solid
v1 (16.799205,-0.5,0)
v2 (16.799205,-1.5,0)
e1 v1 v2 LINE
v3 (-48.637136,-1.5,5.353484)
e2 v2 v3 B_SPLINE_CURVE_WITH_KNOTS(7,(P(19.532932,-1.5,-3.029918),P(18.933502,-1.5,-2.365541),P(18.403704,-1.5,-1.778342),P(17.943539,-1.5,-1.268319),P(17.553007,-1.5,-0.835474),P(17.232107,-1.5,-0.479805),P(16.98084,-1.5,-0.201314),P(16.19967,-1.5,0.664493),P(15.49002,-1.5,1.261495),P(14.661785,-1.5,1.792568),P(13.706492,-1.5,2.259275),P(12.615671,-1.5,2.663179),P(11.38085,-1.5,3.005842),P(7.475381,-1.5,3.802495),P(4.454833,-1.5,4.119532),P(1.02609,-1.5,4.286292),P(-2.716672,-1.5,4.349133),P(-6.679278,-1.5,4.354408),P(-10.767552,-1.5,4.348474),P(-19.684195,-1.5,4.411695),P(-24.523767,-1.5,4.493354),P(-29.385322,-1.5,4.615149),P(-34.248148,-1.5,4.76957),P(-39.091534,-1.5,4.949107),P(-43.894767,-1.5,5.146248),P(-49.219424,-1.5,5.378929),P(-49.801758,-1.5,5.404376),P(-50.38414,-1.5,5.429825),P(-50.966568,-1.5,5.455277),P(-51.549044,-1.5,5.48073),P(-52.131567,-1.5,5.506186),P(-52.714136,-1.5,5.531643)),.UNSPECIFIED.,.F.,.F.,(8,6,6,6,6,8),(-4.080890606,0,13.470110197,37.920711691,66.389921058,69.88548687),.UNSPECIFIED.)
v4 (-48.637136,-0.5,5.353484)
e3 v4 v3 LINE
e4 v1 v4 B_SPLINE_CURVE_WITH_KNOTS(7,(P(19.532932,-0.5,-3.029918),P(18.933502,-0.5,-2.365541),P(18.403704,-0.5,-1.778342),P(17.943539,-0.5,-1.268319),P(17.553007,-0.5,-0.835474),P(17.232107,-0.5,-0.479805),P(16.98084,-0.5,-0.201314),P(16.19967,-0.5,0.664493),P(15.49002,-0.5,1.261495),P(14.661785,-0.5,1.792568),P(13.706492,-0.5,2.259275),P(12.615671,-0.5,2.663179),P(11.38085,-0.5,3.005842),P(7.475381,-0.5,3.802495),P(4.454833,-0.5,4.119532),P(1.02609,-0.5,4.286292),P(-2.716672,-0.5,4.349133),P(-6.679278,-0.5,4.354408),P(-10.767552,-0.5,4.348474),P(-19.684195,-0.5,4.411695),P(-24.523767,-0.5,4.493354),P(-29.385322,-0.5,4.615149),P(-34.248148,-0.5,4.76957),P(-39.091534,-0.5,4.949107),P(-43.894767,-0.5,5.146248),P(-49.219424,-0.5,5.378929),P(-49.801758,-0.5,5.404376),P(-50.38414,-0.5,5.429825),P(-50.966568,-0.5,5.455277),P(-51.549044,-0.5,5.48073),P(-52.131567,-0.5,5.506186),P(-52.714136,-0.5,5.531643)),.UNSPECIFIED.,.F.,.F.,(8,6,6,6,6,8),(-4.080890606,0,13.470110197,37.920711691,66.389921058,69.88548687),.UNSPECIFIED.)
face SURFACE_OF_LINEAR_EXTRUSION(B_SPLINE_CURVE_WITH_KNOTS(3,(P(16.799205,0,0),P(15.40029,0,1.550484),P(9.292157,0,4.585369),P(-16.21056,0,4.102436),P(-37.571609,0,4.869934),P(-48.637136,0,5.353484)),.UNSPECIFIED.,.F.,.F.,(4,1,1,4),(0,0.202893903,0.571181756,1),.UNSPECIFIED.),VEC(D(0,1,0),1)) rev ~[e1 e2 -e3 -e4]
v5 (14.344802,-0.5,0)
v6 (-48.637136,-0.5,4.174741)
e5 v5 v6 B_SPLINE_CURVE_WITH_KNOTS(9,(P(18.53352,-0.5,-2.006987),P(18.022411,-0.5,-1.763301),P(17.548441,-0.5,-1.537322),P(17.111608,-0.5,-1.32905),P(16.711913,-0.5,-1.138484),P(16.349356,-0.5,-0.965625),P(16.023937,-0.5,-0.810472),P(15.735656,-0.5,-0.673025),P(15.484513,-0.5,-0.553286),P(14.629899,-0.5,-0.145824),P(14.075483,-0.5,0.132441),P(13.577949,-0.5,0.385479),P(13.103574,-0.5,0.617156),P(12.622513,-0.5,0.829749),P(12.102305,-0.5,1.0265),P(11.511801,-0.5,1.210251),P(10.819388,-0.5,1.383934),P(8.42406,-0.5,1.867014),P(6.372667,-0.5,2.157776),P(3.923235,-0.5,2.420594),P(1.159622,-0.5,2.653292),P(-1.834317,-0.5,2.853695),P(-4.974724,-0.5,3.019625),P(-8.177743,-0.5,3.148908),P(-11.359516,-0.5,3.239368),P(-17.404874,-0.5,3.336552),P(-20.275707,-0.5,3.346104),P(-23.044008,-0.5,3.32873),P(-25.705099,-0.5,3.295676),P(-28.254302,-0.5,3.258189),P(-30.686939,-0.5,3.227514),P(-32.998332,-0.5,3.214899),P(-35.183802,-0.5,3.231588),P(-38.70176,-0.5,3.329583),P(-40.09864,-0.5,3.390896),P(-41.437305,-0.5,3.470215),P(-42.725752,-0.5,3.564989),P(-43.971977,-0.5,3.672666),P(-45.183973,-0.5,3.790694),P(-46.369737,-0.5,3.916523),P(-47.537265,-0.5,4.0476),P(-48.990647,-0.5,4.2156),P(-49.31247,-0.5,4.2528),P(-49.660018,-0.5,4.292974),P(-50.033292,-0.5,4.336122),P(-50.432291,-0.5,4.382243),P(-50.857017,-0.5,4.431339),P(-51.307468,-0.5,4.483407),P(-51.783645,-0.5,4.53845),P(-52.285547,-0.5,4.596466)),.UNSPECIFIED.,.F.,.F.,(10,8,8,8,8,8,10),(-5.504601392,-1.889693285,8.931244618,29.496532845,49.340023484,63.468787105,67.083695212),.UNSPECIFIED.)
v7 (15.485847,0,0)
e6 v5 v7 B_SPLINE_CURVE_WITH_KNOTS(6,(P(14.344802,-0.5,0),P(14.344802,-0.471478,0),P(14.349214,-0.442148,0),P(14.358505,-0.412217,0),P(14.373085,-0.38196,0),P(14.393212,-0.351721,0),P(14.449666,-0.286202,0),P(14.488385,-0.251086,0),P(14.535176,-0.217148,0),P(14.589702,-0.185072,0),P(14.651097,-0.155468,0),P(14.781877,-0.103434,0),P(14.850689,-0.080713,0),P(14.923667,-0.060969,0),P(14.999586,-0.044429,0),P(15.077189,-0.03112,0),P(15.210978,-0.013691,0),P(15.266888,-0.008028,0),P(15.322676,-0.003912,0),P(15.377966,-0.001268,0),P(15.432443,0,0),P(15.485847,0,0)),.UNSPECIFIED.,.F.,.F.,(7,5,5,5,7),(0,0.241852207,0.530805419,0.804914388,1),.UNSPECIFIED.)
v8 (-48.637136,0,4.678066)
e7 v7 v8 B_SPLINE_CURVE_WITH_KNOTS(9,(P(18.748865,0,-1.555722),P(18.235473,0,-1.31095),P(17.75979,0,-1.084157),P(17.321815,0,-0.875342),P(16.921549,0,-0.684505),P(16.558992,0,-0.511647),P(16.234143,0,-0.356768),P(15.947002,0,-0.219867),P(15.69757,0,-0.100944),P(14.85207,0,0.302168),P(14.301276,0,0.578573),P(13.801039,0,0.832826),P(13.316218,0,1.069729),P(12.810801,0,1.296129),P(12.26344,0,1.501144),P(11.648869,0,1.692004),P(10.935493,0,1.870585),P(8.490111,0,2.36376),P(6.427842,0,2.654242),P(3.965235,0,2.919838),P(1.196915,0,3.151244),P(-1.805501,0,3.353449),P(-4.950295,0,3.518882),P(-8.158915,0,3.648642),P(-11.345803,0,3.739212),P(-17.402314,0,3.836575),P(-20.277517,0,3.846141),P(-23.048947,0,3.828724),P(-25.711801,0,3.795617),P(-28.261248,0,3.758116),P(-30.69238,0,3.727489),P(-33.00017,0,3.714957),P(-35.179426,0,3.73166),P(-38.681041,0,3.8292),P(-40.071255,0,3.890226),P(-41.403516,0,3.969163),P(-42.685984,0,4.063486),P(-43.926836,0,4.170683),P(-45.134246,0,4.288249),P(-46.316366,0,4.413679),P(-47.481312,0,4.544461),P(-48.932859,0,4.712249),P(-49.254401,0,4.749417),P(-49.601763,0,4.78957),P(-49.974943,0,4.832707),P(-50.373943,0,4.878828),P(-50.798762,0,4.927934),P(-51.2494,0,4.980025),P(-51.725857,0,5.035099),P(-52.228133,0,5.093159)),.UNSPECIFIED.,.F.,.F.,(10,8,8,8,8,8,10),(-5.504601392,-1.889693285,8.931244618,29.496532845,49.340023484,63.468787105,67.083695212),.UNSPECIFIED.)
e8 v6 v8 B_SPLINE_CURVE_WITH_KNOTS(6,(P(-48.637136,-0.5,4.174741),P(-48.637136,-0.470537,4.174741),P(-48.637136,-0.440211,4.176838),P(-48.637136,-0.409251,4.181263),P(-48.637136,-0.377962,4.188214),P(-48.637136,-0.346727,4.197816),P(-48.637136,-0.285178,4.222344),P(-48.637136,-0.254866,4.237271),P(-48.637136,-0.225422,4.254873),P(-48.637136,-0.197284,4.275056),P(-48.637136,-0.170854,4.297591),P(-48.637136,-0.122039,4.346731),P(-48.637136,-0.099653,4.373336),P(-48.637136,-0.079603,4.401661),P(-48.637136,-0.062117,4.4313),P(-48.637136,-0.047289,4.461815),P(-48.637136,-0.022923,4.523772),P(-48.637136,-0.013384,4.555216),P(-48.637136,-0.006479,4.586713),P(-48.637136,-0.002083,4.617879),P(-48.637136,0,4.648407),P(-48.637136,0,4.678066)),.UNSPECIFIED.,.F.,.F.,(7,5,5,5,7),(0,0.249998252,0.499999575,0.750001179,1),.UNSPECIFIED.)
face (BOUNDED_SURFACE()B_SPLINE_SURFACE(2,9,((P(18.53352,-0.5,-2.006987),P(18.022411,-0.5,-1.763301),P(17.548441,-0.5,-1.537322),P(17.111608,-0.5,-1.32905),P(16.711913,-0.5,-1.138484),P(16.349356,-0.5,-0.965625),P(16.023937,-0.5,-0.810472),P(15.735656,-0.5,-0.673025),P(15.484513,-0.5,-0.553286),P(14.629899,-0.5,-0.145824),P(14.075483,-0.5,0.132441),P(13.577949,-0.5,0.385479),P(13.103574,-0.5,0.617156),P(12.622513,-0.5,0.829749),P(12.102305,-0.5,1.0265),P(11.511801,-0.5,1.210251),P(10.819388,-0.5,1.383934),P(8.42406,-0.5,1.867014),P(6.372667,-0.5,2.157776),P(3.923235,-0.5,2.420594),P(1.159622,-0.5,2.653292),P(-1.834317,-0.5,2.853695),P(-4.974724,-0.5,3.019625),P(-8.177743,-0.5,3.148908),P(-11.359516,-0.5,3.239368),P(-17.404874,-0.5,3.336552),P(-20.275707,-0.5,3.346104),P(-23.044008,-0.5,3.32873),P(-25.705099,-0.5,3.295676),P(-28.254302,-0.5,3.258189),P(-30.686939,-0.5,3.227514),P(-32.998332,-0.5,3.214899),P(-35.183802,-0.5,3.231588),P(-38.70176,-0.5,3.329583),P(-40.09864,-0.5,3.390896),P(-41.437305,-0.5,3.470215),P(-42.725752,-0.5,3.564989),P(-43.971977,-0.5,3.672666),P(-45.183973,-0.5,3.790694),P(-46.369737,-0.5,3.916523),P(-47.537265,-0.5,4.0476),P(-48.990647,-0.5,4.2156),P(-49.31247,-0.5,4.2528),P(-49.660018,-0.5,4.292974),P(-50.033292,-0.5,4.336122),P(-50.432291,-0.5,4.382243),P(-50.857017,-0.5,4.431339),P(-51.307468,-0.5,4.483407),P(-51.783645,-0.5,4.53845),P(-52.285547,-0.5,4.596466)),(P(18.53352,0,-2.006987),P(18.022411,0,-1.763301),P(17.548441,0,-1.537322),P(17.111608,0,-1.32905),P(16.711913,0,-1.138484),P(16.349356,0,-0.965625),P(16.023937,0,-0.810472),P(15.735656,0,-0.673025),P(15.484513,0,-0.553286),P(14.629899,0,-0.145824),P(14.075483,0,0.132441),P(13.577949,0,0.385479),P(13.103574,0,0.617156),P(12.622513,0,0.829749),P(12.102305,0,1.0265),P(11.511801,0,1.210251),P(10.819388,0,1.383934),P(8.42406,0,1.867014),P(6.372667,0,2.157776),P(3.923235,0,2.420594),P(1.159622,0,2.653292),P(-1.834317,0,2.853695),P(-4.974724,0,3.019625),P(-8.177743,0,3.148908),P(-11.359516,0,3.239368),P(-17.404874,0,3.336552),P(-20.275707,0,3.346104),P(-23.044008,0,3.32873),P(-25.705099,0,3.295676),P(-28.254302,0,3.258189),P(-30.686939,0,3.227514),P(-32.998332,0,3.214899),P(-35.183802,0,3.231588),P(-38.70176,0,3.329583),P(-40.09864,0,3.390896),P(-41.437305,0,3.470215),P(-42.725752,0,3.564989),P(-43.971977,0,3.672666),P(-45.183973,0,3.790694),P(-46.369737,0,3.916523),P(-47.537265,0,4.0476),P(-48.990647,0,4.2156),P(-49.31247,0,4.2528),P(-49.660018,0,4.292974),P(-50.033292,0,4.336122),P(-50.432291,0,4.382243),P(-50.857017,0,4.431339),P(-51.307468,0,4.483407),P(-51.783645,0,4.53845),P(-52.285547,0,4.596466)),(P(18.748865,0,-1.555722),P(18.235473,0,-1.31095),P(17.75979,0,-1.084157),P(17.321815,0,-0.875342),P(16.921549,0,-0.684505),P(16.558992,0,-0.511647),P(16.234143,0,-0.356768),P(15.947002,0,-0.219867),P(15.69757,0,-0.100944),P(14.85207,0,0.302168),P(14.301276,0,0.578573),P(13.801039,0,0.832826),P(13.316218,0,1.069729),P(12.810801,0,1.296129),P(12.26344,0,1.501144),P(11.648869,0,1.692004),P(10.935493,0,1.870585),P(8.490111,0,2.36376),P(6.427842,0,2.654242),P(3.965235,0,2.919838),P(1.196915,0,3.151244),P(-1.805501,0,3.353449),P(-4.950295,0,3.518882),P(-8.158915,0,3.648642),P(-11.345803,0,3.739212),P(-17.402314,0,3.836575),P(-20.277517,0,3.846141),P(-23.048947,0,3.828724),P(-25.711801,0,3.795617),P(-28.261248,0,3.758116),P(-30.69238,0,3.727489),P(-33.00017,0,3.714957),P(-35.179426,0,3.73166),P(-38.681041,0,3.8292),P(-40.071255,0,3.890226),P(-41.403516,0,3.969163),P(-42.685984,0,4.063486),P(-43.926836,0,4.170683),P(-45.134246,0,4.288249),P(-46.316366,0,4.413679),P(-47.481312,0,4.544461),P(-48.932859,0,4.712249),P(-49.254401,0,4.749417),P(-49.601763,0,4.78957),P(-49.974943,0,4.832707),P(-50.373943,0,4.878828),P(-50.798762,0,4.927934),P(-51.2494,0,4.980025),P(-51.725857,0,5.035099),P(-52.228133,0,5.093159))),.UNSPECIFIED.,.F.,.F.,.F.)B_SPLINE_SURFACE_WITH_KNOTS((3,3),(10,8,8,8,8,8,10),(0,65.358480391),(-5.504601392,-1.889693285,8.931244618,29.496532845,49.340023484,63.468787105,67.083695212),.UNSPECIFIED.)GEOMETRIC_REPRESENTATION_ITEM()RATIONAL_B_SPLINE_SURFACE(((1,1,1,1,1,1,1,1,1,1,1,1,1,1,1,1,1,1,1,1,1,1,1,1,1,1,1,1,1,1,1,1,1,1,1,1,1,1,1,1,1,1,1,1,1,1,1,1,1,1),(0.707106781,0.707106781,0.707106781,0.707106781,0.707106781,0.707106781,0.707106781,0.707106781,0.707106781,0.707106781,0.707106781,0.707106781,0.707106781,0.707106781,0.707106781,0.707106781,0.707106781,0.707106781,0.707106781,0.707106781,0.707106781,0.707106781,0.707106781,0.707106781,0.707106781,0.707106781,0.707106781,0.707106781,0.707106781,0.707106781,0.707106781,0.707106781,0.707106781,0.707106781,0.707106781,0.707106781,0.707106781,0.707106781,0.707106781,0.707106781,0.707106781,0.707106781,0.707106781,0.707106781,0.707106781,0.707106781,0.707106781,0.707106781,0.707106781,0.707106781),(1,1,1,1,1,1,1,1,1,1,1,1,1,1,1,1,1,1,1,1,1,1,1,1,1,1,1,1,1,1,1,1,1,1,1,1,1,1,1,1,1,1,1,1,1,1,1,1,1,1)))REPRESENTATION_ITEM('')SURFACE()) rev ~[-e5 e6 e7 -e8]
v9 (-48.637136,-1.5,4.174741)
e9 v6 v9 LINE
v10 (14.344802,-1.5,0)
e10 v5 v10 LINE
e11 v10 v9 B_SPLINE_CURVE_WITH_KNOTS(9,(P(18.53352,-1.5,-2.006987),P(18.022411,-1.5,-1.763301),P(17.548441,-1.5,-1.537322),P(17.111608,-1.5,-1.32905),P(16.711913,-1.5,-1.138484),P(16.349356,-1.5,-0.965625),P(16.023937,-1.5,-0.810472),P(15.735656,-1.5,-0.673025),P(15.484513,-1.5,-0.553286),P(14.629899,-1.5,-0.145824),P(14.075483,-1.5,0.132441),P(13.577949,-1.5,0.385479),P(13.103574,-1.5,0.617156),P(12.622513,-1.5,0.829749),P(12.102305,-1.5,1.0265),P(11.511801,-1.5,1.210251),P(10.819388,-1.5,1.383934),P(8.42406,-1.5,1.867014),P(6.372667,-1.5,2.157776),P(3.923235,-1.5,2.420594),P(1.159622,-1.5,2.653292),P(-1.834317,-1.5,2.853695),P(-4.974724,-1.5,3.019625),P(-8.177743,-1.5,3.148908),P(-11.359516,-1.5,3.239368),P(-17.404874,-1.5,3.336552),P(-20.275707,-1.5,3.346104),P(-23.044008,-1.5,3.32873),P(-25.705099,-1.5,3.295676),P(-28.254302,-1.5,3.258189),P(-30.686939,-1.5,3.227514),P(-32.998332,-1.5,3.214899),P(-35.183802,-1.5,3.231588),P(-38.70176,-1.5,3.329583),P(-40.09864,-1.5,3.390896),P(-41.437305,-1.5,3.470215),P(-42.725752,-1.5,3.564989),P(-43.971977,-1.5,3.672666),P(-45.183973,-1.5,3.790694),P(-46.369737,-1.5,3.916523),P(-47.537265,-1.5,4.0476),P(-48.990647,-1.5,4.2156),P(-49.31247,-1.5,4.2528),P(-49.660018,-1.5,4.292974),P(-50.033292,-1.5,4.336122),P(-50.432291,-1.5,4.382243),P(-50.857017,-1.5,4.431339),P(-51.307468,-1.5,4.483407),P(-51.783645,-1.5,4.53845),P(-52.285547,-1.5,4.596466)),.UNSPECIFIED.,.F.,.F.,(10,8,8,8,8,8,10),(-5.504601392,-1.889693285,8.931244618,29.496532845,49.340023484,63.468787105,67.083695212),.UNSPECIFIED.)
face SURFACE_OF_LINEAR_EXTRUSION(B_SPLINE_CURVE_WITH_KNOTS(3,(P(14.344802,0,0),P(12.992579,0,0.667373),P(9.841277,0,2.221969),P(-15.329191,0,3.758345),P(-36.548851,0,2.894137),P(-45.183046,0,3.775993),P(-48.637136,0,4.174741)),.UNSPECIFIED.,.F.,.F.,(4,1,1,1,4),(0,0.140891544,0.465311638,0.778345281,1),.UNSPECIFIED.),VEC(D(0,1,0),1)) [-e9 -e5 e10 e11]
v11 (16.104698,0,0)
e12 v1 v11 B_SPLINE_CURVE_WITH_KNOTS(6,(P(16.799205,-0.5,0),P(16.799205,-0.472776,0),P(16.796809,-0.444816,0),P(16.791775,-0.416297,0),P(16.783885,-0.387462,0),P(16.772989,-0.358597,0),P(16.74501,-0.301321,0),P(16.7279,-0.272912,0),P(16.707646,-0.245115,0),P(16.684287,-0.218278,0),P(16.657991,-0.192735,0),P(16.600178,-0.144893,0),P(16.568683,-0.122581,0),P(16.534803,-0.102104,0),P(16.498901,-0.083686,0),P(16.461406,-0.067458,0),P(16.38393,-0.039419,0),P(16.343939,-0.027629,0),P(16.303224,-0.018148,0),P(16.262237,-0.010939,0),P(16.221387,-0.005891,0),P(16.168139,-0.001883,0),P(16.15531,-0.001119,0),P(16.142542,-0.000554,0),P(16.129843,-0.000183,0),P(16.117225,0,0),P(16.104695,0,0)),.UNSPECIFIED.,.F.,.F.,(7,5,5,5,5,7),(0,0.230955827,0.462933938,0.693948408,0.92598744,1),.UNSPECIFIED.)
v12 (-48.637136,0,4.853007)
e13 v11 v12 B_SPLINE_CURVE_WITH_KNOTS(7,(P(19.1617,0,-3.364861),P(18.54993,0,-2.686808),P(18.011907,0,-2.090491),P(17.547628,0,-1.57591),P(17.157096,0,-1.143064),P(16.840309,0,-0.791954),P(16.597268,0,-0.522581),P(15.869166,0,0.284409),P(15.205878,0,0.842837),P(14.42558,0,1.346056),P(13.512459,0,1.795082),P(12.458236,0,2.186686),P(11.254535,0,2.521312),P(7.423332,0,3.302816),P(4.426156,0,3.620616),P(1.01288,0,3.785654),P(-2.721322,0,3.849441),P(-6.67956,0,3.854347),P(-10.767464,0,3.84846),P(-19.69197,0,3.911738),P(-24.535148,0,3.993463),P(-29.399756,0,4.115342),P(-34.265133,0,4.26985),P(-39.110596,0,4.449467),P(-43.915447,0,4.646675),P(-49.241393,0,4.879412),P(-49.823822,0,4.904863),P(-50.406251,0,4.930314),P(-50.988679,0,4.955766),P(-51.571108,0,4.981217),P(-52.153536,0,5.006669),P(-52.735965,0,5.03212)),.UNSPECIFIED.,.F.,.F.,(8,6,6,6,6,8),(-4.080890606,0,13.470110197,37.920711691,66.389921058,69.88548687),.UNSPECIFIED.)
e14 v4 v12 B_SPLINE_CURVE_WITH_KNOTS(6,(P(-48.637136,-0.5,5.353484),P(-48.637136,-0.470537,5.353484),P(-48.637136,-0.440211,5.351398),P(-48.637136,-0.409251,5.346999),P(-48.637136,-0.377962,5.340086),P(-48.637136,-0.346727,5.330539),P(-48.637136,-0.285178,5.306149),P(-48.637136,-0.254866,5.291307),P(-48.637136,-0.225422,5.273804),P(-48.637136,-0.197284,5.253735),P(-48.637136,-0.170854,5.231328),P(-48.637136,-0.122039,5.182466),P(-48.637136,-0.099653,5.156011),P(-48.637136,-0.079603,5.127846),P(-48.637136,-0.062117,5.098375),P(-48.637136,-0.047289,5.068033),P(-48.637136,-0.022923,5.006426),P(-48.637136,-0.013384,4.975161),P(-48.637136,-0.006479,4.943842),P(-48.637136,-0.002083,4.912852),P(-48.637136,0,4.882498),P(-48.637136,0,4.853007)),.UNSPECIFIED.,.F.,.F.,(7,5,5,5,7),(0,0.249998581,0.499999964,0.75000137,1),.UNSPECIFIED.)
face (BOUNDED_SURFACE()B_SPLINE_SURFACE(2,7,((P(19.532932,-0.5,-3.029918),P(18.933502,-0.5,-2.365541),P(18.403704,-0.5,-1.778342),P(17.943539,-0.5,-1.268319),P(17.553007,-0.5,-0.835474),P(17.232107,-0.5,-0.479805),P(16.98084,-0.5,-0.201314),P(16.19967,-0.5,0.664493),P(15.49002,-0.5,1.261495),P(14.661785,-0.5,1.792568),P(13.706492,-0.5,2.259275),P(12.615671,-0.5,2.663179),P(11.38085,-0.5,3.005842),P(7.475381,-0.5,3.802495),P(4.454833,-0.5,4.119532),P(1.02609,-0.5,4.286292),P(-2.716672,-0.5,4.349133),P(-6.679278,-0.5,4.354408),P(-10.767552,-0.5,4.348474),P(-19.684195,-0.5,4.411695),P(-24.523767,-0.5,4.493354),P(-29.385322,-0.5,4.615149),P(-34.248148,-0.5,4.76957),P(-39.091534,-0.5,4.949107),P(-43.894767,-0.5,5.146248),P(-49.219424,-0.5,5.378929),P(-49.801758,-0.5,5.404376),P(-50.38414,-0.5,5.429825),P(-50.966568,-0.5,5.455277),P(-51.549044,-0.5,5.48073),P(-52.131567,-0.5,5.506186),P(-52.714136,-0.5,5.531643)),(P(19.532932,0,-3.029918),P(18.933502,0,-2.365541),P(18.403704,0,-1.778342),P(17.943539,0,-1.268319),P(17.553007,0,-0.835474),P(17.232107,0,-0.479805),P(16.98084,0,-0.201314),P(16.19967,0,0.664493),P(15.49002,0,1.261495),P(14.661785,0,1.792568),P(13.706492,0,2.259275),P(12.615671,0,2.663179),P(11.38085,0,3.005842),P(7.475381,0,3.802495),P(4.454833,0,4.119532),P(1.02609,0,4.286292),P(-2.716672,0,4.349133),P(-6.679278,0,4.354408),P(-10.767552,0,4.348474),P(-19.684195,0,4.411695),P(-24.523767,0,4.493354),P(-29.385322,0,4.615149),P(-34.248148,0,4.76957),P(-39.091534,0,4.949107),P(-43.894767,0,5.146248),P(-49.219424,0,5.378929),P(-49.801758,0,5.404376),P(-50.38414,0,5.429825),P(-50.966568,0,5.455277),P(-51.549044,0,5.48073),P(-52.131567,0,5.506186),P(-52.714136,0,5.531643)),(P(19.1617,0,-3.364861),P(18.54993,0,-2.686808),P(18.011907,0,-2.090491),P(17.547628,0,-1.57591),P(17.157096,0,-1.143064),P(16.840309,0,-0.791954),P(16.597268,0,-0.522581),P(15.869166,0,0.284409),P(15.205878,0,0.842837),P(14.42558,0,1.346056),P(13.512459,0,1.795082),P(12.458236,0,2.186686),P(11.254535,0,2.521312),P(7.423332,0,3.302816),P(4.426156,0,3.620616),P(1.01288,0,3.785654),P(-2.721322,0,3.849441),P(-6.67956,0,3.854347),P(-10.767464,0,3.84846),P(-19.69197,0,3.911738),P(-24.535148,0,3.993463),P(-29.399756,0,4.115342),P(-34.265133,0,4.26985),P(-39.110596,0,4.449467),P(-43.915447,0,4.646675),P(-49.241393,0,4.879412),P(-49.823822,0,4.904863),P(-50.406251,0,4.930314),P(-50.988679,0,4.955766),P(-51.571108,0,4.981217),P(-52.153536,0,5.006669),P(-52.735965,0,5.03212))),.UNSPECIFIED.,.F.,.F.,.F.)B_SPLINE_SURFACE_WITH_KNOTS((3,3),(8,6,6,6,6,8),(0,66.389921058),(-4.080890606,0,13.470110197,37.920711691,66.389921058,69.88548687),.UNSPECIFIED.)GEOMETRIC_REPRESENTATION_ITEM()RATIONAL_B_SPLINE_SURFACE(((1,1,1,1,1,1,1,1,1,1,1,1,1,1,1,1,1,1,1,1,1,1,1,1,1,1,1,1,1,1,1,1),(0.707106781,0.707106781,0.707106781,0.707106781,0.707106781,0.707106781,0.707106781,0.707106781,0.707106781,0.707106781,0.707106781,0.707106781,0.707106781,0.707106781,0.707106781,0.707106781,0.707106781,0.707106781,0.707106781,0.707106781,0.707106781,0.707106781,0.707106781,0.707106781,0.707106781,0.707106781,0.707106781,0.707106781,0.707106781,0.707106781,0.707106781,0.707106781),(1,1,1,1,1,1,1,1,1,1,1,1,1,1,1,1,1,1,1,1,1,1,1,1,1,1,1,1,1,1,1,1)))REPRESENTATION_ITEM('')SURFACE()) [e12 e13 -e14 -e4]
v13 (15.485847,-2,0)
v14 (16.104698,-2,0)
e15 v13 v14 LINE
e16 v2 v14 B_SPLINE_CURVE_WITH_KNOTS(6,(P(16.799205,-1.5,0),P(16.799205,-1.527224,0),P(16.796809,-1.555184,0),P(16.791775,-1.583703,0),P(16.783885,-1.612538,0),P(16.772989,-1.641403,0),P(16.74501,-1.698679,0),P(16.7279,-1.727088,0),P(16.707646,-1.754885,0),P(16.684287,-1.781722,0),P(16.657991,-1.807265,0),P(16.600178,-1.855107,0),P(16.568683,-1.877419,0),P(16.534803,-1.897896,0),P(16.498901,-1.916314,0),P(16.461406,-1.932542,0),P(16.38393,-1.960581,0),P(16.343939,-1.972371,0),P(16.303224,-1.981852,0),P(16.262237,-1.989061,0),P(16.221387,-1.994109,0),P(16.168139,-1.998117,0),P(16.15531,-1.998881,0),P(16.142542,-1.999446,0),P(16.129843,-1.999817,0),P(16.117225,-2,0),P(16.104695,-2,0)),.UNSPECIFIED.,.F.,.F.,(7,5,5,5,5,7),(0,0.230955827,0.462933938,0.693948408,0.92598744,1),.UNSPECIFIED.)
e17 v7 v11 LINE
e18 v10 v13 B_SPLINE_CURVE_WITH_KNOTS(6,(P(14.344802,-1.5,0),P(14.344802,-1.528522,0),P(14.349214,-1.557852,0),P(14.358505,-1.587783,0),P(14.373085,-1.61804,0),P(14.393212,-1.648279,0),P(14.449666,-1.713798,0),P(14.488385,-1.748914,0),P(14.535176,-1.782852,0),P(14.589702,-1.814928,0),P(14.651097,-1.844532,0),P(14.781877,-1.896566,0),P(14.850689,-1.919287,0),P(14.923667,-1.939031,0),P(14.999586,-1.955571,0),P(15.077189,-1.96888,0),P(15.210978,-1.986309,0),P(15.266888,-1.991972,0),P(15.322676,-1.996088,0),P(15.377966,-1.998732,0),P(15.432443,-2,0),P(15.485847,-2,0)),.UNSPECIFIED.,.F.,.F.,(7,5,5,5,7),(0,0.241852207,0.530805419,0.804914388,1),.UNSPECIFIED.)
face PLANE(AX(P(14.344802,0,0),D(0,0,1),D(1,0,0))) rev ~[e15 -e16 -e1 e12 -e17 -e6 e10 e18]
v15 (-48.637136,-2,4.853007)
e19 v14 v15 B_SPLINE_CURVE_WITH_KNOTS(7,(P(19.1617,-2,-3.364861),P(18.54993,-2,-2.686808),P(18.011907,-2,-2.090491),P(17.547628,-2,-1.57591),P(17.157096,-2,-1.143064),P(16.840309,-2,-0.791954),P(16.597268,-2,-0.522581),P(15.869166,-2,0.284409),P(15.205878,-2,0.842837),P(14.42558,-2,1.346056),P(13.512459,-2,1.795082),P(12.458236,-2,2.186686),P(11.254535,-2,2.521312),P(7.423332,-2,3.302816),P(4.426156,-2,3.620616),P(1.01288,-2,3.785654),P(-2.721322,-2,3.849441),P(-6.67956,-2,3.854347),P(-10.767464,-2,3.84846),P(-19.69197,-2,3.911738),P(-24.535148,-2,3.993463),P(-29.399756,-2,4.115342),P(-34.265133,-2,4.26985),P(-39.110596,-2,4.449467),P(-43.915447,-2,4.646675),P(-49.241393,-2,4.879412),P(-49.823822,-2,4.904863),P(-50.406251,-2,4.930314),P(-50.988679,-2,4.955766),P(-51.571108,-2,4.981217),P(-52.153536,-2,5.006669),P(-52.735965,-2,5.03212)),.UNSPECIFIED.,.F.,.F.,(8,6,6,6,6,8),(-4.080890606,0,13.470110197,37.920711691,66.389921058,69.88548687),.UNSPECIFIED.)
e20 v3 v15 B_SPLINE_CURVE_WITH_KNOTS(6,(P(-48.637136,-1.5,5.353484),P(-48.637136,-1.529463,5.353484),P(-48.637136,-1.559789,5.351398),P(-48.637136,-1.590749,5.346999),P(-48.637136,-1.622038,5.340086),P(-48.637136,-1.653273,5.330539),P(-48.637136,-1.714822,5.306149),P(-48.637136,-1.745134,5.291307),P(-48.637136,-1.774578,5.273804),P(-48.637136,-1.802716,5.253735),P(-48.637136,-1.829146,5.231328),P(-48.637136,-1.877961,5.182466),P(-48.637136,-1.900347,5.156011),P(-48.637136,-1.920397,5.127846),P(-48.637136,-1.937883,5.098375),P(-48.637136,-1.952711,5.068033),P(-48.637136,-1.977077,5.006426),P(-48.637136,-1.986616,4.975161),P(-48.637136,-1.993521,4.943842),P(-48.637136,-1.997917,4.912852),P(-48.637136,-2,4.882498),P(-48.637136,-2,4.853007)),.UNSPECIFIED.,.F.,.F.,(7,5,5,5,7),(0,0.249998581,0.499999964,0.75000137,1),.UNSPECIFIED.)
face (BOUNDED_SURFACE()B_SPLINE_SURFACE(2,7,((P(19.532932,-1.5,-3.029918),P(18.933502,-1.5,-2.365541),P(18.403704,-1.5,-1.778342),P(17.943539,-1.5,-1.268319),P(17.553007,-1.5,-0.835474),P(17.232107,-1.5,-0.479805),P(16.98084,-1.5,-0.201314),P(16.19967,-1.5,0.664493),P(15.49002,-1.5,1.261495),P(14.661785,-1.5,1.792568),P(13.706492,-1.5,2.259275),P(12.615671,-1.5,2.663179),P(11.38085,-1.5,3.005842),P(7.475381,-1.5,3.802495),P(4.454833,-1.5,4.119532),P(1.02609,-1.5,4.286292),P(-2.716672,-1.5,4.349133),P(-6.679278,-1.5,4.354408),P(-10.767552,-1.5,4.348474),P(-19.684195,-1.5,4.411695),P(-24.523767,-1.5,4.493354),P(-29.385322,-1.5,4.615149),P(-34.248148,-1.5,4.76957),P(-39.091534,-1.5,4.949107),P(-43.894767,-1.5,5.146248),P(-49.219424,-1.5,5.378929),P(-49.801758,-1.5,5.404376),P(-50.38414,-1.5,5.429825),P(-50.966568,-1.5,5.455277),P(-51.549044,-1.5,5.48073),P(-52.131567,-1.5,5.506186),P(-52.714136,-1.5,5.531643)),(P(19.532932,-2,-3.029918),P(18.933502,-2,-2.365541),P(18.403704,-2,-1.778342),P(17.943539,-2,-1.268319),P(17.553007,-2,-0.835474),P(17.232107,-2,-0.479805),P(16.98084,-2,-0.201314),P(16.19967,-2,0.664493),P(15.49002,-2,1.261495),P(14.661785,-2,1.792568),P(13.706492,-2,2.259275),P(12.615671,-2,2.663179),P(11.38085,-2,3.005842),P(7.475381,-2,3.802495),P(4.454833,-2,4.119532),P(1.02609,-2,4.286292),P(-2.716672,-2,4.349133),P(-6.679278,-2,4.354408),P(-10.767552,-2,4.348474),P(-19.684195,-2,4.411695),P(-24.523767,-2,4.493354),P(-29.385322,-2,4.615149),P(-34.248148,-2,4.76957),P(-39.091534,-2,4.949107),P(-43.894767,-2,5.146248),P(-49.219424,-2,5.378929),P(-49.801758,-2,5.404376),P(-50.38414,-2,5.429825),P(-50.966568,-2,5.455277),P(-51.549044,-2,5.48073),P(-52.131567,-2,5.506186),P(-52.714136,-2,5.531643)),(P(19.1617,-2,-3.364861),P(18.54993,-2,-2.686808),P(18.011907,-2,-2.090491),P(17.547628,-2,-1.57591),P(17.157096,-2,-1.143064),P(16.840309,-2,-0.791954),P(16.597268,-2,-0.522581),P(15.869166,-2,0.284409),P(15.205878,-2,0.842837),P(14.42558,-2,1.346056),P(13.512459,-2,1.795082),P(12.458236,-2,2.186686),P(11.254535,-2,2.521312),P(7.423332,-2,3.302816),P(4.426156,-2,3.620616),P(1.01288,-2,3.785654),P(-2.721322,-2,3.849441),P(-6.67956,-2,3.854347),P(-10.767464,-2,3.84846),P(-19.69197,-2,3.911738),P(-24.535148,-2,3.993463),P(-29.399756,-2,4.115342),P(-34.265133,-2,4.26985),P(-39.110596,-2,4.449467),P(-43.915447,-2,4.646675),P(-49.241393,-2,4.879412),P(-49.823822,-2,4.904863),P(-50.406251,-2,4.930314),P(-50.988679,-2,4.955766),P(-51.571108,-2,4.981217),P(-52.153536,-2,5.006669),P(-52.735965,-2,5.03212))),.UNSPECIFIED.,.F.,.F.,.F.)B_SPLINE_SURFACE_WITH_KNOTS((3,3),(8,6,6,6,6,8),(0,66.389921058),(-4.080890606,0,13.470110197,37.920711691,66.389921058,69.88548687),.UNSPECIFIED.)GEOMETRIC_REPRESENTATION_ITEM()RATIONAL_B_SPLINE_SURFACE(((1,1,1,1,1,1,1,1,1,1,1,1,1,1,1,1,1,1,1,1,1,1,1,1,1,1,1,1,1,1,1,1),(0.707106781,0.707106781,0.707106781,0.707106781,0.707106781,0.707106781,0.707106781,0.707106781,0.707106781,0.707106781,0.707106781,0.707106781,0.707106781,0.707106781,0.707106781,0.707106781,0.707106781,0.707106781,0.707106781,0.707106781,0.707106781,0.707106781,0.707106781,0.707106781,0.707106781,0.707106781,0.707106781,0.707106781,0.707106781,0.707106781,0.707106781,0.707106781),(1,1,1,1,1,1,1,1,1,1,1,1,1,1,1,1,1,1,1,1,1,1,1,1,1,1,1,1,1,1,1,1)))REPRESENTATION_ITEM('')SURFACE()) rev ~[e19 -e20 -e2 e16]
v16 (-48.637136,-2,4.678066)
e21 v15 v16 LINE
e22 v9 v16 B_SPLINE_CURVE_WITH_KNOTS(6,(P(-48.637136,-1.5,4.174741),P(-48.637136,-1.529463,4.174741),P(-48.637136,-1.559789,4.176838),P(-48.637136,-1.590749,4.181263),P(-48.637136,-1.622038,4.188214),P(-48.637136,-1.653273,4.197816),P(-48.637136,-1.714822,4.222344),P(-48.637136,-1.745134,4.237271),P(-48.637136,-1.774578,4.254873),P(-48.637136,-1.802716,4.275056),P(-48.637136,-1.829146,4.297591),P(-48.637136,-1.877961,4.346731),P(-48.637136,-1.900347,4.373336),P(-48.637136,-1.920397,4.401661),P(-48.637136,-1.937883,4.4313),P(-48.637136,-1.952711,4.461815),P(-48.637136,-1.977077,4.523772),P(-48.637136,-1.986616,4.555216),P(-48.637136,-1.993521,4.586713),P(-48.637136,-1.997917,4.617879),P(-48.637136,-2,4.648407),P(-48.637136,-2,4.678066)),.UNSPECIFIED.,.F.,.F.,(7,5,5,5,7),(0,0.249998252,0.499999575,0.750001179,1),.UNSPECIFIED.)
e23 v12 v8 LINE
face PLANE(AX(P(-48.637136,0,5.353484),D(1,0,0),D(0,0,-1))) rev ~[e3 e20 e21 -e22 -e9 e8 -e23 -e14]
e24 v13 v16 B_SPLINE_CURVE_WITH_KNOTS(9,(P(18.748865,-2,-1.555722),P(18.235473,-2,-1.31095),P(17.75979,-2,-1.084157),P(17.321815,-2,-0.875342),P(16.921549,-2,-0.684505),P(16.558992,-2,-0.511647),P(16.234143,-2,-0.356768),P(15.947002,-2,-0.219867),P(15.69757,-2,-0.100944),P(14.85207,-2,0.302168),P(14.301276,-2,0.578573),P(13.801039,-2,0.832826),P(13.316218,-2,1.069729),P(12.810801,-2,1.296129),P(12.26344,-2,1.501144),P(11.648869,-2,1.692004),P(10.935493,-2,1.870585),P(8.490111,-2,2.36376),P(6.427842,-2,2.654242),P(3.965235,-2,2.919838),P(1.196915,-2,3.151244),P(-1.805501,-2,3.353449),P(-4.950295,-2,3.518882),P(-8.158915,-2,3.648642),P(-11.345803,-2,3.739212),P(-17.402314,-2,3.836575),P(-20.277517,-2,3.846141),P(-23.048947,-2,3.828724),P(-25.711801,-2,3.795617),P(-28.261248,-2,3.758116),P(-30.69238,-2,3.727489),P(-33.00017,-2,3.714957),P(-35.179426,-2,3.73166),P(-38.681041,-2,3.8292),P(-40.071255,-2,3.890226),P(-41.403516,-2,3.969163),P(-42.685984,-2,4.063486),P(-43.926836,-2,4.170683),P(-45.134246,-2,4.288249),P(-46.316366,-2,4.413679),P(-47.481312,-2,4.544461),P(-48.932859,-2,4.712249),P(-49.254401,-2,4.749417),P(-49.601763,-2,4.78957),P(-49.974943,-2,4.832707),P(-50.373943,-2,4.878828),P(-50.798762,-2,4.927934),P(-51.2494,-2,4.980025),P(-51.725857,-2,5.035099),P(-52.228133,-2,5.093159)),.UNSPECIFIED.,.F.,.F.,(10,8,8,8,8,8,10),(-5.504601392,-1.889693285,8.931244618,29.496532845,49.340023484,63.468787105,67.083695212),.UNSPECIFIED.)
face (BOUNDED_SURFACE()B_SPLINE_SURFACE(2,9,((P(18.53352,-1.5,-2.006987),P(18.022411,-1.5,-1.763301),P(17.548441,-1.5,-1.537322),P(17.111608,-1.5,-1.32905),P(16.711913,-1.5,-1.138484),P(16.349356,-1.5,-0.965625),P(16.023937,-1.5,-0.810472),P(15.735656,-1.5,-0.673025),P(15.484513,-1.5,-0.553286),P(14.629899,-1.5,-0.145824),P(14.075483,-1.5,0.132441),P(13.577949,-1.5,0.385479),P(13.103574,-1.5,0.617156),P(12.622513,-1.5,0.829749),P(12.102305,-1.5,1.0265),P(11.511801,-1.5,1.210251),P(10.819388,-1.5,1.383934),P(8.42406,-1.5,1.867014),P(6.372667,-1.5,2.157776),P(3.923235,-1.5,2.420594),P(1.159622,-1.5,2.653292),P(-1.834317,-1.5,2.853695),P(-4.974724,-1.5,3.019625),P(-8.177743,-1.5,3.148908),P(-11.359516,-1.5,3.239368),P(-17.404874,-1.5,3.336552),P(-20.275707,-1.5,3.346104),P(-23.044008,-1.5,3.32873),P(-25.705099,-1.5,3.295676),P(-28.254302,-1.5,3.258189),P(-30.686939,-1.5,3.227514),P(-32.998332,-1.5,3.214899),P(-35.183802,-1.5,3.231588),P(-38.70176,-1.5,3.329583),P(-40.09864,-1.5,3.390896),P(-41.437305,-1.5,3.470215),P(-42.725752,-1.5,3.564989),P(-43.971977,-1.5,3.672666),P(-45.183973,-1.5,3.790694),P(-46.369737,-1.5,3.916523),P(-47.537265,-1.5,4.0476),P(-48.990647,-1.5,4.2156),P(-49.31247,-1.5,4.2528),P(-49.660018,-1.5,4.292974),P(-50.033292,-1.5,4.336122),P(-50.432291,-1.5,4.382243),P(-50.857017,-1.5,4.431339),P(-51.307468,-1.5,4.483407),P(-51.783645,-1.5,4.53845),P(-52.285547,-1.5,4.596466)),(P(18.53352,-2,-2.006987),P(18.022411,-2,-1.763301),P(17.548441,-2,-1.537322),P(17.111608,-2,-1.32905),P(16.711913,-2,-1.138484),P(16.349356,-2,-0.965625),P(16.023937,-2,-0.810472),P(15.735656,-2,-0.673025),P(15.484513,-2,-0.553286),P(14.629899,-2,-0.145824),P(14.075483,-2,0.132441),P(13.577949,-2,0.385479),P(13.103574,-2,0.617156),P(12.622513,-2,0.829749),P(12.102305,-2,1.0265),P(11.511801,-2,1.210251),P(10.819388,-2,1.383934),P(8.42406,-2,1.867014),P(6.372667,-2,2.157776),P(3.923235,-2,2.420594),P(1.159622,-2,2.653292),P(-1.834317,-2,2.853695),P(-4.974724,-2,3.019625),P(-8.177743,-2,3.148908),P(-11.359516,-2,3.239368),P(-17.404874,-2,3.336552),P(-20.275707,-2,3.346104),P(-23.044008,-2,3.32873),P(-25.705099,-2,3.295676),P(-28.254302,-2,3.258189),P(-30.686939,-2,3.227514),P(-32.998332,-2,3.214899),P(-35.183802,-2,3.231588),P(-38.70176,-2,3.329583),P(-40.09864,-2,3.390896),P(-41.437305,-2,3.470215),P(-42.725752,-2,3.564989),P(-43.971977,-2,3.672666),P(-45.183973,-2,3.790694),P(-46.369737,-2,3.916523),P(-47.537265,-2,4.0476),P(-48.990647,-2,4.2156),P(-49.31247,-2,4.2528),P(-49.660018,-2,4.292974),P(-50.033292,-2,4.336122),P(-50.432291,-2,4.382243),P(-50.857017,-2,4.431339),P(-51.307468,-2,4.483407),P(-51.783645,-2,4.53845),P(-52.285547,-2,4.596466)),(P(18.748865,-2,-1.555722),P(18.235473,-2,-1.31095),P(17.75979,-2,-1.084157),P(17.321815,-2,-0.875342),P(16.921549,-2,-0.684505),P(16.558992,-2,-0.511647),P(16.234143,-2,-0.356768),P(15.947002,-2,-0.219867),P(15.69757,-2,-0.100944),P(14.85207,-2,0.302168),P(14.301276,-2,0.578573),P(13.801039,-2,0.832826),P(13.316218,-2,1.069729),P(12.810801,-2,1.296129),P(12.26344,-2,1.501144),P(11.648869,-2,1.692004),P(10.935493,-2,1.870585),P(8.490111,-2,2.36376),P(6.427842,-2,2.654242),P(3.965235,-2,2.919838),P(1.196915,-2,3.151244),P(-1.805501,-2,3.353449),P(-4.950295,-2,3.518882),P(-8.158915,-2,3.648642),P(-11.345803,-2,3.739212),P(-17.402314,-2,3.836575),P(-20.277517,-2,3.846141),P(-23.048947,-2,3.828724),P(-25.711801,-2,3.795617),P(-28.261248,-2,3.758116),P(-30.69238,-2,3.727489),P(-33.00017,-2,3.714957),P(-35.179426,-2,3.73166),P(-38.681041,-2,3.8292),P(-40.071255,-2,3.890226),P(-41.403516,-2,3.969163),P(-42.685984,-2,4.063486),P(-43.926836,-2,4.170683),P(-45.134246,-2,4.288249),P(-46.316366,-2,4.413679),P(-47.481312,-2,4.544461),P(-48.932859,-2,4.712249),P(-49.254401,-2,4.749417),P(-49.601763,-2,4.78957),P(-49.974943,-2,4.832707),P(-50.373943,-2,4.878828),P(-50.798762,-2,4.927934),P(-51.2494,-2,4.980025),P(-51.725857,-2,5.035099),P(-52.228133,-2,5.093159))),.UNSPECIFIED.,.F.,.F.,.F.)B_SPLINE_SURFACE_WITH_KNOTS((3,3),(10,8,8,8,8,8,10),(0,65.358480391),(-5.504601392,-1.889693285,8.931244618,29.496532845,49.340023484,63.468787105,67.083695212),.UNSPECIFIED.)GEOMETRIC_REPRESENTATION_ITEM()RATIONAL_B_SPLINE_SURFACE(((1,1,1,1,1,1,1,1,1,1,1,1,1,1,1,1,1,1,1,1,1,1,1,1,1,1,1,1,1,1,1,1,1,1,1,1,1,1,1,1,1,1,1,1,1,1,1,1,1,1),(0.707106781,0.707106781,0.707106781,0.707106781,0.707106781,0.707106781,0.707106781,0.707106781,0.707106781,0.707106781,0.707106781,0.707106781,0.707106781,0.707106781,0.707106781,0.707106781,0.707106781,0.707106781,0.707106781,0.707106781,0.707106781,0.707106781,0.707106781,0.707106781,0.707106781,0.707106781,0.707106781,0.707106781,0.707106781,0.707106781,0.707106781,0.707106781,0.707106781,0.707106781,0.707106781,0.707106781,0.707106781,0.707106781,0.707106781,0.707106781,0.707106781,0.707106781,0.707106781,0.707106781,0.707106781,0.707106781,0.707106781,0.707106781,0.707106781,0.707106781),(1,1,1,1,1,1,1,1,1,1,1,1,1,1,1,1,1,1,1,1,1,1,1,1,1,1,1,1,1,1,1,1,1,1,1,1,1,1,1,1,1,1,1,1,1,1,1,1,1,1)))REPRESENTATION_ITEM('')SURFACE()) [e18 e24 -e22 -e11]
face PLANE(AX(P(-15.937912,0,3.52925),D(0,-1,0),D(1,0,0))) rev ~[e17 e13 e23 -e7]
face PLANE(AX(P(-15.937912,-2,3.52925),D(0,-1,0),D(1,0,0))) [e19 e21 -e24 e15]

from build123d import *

# Parameters (mm, degrees)
F1_DEPTH = 2
F2_R     = 0.5


with BuildPart() as f1:
    # F0 (on Front) → F1 (new body)
    with BuildSketch(Plane.XZ):
        with BuildLine():
            Line((14.3448021263, 0), (16.7992051503, 0))
            add(Edge.make_bspline(
                [(16.7992051503, 0), (15.4002895089, 1.5504838861), (9.2921570099, 4.5853690926), (-16.2105595778, 4.1024355848), (-37.5716088805, 4.8699344554), (-48.6371364021, 5.353483587)],
                knots=[0, 0, 0, 0, 0.2028939029, 0.571181756, 1, 1, 1, 1], degree=3))
            Line((-48.6371364021, 5.353483587), (-48.6371364021, 4.174740985))
            add(Edge.make_bspline(
                [(14.3448021263, 0), (12.9925785227, 0.6673733568), (9.8412765105, 2.2219685161), (-15.3291914091, 3.7583454505), (-36.5488513474, 2.8941371435), (-45.1830461877, 3.7759927749), (-48.6371364021, 4.174740985)],
                knots=[0, 0, 0, 0, 0.1408915442, 0.4653116378, 0.7783452807, 1, 1, 1, 1], degree=3))
        make_face()
    extrude(amount=F1_DEPTH)

    # F2
    f2_edges = [f1.edges().sort_by_distance(p)[0] for p in [
        (-15.458159, 0, 4.382017),
        (-15.458159, -2, 4.382017),
        (-16.980901, 0, 3.318325),
        (-16.980901, -2, 3.318325),
    ]]
    fillet(f2_edges, radius=F2_R)


solid = f1.part
